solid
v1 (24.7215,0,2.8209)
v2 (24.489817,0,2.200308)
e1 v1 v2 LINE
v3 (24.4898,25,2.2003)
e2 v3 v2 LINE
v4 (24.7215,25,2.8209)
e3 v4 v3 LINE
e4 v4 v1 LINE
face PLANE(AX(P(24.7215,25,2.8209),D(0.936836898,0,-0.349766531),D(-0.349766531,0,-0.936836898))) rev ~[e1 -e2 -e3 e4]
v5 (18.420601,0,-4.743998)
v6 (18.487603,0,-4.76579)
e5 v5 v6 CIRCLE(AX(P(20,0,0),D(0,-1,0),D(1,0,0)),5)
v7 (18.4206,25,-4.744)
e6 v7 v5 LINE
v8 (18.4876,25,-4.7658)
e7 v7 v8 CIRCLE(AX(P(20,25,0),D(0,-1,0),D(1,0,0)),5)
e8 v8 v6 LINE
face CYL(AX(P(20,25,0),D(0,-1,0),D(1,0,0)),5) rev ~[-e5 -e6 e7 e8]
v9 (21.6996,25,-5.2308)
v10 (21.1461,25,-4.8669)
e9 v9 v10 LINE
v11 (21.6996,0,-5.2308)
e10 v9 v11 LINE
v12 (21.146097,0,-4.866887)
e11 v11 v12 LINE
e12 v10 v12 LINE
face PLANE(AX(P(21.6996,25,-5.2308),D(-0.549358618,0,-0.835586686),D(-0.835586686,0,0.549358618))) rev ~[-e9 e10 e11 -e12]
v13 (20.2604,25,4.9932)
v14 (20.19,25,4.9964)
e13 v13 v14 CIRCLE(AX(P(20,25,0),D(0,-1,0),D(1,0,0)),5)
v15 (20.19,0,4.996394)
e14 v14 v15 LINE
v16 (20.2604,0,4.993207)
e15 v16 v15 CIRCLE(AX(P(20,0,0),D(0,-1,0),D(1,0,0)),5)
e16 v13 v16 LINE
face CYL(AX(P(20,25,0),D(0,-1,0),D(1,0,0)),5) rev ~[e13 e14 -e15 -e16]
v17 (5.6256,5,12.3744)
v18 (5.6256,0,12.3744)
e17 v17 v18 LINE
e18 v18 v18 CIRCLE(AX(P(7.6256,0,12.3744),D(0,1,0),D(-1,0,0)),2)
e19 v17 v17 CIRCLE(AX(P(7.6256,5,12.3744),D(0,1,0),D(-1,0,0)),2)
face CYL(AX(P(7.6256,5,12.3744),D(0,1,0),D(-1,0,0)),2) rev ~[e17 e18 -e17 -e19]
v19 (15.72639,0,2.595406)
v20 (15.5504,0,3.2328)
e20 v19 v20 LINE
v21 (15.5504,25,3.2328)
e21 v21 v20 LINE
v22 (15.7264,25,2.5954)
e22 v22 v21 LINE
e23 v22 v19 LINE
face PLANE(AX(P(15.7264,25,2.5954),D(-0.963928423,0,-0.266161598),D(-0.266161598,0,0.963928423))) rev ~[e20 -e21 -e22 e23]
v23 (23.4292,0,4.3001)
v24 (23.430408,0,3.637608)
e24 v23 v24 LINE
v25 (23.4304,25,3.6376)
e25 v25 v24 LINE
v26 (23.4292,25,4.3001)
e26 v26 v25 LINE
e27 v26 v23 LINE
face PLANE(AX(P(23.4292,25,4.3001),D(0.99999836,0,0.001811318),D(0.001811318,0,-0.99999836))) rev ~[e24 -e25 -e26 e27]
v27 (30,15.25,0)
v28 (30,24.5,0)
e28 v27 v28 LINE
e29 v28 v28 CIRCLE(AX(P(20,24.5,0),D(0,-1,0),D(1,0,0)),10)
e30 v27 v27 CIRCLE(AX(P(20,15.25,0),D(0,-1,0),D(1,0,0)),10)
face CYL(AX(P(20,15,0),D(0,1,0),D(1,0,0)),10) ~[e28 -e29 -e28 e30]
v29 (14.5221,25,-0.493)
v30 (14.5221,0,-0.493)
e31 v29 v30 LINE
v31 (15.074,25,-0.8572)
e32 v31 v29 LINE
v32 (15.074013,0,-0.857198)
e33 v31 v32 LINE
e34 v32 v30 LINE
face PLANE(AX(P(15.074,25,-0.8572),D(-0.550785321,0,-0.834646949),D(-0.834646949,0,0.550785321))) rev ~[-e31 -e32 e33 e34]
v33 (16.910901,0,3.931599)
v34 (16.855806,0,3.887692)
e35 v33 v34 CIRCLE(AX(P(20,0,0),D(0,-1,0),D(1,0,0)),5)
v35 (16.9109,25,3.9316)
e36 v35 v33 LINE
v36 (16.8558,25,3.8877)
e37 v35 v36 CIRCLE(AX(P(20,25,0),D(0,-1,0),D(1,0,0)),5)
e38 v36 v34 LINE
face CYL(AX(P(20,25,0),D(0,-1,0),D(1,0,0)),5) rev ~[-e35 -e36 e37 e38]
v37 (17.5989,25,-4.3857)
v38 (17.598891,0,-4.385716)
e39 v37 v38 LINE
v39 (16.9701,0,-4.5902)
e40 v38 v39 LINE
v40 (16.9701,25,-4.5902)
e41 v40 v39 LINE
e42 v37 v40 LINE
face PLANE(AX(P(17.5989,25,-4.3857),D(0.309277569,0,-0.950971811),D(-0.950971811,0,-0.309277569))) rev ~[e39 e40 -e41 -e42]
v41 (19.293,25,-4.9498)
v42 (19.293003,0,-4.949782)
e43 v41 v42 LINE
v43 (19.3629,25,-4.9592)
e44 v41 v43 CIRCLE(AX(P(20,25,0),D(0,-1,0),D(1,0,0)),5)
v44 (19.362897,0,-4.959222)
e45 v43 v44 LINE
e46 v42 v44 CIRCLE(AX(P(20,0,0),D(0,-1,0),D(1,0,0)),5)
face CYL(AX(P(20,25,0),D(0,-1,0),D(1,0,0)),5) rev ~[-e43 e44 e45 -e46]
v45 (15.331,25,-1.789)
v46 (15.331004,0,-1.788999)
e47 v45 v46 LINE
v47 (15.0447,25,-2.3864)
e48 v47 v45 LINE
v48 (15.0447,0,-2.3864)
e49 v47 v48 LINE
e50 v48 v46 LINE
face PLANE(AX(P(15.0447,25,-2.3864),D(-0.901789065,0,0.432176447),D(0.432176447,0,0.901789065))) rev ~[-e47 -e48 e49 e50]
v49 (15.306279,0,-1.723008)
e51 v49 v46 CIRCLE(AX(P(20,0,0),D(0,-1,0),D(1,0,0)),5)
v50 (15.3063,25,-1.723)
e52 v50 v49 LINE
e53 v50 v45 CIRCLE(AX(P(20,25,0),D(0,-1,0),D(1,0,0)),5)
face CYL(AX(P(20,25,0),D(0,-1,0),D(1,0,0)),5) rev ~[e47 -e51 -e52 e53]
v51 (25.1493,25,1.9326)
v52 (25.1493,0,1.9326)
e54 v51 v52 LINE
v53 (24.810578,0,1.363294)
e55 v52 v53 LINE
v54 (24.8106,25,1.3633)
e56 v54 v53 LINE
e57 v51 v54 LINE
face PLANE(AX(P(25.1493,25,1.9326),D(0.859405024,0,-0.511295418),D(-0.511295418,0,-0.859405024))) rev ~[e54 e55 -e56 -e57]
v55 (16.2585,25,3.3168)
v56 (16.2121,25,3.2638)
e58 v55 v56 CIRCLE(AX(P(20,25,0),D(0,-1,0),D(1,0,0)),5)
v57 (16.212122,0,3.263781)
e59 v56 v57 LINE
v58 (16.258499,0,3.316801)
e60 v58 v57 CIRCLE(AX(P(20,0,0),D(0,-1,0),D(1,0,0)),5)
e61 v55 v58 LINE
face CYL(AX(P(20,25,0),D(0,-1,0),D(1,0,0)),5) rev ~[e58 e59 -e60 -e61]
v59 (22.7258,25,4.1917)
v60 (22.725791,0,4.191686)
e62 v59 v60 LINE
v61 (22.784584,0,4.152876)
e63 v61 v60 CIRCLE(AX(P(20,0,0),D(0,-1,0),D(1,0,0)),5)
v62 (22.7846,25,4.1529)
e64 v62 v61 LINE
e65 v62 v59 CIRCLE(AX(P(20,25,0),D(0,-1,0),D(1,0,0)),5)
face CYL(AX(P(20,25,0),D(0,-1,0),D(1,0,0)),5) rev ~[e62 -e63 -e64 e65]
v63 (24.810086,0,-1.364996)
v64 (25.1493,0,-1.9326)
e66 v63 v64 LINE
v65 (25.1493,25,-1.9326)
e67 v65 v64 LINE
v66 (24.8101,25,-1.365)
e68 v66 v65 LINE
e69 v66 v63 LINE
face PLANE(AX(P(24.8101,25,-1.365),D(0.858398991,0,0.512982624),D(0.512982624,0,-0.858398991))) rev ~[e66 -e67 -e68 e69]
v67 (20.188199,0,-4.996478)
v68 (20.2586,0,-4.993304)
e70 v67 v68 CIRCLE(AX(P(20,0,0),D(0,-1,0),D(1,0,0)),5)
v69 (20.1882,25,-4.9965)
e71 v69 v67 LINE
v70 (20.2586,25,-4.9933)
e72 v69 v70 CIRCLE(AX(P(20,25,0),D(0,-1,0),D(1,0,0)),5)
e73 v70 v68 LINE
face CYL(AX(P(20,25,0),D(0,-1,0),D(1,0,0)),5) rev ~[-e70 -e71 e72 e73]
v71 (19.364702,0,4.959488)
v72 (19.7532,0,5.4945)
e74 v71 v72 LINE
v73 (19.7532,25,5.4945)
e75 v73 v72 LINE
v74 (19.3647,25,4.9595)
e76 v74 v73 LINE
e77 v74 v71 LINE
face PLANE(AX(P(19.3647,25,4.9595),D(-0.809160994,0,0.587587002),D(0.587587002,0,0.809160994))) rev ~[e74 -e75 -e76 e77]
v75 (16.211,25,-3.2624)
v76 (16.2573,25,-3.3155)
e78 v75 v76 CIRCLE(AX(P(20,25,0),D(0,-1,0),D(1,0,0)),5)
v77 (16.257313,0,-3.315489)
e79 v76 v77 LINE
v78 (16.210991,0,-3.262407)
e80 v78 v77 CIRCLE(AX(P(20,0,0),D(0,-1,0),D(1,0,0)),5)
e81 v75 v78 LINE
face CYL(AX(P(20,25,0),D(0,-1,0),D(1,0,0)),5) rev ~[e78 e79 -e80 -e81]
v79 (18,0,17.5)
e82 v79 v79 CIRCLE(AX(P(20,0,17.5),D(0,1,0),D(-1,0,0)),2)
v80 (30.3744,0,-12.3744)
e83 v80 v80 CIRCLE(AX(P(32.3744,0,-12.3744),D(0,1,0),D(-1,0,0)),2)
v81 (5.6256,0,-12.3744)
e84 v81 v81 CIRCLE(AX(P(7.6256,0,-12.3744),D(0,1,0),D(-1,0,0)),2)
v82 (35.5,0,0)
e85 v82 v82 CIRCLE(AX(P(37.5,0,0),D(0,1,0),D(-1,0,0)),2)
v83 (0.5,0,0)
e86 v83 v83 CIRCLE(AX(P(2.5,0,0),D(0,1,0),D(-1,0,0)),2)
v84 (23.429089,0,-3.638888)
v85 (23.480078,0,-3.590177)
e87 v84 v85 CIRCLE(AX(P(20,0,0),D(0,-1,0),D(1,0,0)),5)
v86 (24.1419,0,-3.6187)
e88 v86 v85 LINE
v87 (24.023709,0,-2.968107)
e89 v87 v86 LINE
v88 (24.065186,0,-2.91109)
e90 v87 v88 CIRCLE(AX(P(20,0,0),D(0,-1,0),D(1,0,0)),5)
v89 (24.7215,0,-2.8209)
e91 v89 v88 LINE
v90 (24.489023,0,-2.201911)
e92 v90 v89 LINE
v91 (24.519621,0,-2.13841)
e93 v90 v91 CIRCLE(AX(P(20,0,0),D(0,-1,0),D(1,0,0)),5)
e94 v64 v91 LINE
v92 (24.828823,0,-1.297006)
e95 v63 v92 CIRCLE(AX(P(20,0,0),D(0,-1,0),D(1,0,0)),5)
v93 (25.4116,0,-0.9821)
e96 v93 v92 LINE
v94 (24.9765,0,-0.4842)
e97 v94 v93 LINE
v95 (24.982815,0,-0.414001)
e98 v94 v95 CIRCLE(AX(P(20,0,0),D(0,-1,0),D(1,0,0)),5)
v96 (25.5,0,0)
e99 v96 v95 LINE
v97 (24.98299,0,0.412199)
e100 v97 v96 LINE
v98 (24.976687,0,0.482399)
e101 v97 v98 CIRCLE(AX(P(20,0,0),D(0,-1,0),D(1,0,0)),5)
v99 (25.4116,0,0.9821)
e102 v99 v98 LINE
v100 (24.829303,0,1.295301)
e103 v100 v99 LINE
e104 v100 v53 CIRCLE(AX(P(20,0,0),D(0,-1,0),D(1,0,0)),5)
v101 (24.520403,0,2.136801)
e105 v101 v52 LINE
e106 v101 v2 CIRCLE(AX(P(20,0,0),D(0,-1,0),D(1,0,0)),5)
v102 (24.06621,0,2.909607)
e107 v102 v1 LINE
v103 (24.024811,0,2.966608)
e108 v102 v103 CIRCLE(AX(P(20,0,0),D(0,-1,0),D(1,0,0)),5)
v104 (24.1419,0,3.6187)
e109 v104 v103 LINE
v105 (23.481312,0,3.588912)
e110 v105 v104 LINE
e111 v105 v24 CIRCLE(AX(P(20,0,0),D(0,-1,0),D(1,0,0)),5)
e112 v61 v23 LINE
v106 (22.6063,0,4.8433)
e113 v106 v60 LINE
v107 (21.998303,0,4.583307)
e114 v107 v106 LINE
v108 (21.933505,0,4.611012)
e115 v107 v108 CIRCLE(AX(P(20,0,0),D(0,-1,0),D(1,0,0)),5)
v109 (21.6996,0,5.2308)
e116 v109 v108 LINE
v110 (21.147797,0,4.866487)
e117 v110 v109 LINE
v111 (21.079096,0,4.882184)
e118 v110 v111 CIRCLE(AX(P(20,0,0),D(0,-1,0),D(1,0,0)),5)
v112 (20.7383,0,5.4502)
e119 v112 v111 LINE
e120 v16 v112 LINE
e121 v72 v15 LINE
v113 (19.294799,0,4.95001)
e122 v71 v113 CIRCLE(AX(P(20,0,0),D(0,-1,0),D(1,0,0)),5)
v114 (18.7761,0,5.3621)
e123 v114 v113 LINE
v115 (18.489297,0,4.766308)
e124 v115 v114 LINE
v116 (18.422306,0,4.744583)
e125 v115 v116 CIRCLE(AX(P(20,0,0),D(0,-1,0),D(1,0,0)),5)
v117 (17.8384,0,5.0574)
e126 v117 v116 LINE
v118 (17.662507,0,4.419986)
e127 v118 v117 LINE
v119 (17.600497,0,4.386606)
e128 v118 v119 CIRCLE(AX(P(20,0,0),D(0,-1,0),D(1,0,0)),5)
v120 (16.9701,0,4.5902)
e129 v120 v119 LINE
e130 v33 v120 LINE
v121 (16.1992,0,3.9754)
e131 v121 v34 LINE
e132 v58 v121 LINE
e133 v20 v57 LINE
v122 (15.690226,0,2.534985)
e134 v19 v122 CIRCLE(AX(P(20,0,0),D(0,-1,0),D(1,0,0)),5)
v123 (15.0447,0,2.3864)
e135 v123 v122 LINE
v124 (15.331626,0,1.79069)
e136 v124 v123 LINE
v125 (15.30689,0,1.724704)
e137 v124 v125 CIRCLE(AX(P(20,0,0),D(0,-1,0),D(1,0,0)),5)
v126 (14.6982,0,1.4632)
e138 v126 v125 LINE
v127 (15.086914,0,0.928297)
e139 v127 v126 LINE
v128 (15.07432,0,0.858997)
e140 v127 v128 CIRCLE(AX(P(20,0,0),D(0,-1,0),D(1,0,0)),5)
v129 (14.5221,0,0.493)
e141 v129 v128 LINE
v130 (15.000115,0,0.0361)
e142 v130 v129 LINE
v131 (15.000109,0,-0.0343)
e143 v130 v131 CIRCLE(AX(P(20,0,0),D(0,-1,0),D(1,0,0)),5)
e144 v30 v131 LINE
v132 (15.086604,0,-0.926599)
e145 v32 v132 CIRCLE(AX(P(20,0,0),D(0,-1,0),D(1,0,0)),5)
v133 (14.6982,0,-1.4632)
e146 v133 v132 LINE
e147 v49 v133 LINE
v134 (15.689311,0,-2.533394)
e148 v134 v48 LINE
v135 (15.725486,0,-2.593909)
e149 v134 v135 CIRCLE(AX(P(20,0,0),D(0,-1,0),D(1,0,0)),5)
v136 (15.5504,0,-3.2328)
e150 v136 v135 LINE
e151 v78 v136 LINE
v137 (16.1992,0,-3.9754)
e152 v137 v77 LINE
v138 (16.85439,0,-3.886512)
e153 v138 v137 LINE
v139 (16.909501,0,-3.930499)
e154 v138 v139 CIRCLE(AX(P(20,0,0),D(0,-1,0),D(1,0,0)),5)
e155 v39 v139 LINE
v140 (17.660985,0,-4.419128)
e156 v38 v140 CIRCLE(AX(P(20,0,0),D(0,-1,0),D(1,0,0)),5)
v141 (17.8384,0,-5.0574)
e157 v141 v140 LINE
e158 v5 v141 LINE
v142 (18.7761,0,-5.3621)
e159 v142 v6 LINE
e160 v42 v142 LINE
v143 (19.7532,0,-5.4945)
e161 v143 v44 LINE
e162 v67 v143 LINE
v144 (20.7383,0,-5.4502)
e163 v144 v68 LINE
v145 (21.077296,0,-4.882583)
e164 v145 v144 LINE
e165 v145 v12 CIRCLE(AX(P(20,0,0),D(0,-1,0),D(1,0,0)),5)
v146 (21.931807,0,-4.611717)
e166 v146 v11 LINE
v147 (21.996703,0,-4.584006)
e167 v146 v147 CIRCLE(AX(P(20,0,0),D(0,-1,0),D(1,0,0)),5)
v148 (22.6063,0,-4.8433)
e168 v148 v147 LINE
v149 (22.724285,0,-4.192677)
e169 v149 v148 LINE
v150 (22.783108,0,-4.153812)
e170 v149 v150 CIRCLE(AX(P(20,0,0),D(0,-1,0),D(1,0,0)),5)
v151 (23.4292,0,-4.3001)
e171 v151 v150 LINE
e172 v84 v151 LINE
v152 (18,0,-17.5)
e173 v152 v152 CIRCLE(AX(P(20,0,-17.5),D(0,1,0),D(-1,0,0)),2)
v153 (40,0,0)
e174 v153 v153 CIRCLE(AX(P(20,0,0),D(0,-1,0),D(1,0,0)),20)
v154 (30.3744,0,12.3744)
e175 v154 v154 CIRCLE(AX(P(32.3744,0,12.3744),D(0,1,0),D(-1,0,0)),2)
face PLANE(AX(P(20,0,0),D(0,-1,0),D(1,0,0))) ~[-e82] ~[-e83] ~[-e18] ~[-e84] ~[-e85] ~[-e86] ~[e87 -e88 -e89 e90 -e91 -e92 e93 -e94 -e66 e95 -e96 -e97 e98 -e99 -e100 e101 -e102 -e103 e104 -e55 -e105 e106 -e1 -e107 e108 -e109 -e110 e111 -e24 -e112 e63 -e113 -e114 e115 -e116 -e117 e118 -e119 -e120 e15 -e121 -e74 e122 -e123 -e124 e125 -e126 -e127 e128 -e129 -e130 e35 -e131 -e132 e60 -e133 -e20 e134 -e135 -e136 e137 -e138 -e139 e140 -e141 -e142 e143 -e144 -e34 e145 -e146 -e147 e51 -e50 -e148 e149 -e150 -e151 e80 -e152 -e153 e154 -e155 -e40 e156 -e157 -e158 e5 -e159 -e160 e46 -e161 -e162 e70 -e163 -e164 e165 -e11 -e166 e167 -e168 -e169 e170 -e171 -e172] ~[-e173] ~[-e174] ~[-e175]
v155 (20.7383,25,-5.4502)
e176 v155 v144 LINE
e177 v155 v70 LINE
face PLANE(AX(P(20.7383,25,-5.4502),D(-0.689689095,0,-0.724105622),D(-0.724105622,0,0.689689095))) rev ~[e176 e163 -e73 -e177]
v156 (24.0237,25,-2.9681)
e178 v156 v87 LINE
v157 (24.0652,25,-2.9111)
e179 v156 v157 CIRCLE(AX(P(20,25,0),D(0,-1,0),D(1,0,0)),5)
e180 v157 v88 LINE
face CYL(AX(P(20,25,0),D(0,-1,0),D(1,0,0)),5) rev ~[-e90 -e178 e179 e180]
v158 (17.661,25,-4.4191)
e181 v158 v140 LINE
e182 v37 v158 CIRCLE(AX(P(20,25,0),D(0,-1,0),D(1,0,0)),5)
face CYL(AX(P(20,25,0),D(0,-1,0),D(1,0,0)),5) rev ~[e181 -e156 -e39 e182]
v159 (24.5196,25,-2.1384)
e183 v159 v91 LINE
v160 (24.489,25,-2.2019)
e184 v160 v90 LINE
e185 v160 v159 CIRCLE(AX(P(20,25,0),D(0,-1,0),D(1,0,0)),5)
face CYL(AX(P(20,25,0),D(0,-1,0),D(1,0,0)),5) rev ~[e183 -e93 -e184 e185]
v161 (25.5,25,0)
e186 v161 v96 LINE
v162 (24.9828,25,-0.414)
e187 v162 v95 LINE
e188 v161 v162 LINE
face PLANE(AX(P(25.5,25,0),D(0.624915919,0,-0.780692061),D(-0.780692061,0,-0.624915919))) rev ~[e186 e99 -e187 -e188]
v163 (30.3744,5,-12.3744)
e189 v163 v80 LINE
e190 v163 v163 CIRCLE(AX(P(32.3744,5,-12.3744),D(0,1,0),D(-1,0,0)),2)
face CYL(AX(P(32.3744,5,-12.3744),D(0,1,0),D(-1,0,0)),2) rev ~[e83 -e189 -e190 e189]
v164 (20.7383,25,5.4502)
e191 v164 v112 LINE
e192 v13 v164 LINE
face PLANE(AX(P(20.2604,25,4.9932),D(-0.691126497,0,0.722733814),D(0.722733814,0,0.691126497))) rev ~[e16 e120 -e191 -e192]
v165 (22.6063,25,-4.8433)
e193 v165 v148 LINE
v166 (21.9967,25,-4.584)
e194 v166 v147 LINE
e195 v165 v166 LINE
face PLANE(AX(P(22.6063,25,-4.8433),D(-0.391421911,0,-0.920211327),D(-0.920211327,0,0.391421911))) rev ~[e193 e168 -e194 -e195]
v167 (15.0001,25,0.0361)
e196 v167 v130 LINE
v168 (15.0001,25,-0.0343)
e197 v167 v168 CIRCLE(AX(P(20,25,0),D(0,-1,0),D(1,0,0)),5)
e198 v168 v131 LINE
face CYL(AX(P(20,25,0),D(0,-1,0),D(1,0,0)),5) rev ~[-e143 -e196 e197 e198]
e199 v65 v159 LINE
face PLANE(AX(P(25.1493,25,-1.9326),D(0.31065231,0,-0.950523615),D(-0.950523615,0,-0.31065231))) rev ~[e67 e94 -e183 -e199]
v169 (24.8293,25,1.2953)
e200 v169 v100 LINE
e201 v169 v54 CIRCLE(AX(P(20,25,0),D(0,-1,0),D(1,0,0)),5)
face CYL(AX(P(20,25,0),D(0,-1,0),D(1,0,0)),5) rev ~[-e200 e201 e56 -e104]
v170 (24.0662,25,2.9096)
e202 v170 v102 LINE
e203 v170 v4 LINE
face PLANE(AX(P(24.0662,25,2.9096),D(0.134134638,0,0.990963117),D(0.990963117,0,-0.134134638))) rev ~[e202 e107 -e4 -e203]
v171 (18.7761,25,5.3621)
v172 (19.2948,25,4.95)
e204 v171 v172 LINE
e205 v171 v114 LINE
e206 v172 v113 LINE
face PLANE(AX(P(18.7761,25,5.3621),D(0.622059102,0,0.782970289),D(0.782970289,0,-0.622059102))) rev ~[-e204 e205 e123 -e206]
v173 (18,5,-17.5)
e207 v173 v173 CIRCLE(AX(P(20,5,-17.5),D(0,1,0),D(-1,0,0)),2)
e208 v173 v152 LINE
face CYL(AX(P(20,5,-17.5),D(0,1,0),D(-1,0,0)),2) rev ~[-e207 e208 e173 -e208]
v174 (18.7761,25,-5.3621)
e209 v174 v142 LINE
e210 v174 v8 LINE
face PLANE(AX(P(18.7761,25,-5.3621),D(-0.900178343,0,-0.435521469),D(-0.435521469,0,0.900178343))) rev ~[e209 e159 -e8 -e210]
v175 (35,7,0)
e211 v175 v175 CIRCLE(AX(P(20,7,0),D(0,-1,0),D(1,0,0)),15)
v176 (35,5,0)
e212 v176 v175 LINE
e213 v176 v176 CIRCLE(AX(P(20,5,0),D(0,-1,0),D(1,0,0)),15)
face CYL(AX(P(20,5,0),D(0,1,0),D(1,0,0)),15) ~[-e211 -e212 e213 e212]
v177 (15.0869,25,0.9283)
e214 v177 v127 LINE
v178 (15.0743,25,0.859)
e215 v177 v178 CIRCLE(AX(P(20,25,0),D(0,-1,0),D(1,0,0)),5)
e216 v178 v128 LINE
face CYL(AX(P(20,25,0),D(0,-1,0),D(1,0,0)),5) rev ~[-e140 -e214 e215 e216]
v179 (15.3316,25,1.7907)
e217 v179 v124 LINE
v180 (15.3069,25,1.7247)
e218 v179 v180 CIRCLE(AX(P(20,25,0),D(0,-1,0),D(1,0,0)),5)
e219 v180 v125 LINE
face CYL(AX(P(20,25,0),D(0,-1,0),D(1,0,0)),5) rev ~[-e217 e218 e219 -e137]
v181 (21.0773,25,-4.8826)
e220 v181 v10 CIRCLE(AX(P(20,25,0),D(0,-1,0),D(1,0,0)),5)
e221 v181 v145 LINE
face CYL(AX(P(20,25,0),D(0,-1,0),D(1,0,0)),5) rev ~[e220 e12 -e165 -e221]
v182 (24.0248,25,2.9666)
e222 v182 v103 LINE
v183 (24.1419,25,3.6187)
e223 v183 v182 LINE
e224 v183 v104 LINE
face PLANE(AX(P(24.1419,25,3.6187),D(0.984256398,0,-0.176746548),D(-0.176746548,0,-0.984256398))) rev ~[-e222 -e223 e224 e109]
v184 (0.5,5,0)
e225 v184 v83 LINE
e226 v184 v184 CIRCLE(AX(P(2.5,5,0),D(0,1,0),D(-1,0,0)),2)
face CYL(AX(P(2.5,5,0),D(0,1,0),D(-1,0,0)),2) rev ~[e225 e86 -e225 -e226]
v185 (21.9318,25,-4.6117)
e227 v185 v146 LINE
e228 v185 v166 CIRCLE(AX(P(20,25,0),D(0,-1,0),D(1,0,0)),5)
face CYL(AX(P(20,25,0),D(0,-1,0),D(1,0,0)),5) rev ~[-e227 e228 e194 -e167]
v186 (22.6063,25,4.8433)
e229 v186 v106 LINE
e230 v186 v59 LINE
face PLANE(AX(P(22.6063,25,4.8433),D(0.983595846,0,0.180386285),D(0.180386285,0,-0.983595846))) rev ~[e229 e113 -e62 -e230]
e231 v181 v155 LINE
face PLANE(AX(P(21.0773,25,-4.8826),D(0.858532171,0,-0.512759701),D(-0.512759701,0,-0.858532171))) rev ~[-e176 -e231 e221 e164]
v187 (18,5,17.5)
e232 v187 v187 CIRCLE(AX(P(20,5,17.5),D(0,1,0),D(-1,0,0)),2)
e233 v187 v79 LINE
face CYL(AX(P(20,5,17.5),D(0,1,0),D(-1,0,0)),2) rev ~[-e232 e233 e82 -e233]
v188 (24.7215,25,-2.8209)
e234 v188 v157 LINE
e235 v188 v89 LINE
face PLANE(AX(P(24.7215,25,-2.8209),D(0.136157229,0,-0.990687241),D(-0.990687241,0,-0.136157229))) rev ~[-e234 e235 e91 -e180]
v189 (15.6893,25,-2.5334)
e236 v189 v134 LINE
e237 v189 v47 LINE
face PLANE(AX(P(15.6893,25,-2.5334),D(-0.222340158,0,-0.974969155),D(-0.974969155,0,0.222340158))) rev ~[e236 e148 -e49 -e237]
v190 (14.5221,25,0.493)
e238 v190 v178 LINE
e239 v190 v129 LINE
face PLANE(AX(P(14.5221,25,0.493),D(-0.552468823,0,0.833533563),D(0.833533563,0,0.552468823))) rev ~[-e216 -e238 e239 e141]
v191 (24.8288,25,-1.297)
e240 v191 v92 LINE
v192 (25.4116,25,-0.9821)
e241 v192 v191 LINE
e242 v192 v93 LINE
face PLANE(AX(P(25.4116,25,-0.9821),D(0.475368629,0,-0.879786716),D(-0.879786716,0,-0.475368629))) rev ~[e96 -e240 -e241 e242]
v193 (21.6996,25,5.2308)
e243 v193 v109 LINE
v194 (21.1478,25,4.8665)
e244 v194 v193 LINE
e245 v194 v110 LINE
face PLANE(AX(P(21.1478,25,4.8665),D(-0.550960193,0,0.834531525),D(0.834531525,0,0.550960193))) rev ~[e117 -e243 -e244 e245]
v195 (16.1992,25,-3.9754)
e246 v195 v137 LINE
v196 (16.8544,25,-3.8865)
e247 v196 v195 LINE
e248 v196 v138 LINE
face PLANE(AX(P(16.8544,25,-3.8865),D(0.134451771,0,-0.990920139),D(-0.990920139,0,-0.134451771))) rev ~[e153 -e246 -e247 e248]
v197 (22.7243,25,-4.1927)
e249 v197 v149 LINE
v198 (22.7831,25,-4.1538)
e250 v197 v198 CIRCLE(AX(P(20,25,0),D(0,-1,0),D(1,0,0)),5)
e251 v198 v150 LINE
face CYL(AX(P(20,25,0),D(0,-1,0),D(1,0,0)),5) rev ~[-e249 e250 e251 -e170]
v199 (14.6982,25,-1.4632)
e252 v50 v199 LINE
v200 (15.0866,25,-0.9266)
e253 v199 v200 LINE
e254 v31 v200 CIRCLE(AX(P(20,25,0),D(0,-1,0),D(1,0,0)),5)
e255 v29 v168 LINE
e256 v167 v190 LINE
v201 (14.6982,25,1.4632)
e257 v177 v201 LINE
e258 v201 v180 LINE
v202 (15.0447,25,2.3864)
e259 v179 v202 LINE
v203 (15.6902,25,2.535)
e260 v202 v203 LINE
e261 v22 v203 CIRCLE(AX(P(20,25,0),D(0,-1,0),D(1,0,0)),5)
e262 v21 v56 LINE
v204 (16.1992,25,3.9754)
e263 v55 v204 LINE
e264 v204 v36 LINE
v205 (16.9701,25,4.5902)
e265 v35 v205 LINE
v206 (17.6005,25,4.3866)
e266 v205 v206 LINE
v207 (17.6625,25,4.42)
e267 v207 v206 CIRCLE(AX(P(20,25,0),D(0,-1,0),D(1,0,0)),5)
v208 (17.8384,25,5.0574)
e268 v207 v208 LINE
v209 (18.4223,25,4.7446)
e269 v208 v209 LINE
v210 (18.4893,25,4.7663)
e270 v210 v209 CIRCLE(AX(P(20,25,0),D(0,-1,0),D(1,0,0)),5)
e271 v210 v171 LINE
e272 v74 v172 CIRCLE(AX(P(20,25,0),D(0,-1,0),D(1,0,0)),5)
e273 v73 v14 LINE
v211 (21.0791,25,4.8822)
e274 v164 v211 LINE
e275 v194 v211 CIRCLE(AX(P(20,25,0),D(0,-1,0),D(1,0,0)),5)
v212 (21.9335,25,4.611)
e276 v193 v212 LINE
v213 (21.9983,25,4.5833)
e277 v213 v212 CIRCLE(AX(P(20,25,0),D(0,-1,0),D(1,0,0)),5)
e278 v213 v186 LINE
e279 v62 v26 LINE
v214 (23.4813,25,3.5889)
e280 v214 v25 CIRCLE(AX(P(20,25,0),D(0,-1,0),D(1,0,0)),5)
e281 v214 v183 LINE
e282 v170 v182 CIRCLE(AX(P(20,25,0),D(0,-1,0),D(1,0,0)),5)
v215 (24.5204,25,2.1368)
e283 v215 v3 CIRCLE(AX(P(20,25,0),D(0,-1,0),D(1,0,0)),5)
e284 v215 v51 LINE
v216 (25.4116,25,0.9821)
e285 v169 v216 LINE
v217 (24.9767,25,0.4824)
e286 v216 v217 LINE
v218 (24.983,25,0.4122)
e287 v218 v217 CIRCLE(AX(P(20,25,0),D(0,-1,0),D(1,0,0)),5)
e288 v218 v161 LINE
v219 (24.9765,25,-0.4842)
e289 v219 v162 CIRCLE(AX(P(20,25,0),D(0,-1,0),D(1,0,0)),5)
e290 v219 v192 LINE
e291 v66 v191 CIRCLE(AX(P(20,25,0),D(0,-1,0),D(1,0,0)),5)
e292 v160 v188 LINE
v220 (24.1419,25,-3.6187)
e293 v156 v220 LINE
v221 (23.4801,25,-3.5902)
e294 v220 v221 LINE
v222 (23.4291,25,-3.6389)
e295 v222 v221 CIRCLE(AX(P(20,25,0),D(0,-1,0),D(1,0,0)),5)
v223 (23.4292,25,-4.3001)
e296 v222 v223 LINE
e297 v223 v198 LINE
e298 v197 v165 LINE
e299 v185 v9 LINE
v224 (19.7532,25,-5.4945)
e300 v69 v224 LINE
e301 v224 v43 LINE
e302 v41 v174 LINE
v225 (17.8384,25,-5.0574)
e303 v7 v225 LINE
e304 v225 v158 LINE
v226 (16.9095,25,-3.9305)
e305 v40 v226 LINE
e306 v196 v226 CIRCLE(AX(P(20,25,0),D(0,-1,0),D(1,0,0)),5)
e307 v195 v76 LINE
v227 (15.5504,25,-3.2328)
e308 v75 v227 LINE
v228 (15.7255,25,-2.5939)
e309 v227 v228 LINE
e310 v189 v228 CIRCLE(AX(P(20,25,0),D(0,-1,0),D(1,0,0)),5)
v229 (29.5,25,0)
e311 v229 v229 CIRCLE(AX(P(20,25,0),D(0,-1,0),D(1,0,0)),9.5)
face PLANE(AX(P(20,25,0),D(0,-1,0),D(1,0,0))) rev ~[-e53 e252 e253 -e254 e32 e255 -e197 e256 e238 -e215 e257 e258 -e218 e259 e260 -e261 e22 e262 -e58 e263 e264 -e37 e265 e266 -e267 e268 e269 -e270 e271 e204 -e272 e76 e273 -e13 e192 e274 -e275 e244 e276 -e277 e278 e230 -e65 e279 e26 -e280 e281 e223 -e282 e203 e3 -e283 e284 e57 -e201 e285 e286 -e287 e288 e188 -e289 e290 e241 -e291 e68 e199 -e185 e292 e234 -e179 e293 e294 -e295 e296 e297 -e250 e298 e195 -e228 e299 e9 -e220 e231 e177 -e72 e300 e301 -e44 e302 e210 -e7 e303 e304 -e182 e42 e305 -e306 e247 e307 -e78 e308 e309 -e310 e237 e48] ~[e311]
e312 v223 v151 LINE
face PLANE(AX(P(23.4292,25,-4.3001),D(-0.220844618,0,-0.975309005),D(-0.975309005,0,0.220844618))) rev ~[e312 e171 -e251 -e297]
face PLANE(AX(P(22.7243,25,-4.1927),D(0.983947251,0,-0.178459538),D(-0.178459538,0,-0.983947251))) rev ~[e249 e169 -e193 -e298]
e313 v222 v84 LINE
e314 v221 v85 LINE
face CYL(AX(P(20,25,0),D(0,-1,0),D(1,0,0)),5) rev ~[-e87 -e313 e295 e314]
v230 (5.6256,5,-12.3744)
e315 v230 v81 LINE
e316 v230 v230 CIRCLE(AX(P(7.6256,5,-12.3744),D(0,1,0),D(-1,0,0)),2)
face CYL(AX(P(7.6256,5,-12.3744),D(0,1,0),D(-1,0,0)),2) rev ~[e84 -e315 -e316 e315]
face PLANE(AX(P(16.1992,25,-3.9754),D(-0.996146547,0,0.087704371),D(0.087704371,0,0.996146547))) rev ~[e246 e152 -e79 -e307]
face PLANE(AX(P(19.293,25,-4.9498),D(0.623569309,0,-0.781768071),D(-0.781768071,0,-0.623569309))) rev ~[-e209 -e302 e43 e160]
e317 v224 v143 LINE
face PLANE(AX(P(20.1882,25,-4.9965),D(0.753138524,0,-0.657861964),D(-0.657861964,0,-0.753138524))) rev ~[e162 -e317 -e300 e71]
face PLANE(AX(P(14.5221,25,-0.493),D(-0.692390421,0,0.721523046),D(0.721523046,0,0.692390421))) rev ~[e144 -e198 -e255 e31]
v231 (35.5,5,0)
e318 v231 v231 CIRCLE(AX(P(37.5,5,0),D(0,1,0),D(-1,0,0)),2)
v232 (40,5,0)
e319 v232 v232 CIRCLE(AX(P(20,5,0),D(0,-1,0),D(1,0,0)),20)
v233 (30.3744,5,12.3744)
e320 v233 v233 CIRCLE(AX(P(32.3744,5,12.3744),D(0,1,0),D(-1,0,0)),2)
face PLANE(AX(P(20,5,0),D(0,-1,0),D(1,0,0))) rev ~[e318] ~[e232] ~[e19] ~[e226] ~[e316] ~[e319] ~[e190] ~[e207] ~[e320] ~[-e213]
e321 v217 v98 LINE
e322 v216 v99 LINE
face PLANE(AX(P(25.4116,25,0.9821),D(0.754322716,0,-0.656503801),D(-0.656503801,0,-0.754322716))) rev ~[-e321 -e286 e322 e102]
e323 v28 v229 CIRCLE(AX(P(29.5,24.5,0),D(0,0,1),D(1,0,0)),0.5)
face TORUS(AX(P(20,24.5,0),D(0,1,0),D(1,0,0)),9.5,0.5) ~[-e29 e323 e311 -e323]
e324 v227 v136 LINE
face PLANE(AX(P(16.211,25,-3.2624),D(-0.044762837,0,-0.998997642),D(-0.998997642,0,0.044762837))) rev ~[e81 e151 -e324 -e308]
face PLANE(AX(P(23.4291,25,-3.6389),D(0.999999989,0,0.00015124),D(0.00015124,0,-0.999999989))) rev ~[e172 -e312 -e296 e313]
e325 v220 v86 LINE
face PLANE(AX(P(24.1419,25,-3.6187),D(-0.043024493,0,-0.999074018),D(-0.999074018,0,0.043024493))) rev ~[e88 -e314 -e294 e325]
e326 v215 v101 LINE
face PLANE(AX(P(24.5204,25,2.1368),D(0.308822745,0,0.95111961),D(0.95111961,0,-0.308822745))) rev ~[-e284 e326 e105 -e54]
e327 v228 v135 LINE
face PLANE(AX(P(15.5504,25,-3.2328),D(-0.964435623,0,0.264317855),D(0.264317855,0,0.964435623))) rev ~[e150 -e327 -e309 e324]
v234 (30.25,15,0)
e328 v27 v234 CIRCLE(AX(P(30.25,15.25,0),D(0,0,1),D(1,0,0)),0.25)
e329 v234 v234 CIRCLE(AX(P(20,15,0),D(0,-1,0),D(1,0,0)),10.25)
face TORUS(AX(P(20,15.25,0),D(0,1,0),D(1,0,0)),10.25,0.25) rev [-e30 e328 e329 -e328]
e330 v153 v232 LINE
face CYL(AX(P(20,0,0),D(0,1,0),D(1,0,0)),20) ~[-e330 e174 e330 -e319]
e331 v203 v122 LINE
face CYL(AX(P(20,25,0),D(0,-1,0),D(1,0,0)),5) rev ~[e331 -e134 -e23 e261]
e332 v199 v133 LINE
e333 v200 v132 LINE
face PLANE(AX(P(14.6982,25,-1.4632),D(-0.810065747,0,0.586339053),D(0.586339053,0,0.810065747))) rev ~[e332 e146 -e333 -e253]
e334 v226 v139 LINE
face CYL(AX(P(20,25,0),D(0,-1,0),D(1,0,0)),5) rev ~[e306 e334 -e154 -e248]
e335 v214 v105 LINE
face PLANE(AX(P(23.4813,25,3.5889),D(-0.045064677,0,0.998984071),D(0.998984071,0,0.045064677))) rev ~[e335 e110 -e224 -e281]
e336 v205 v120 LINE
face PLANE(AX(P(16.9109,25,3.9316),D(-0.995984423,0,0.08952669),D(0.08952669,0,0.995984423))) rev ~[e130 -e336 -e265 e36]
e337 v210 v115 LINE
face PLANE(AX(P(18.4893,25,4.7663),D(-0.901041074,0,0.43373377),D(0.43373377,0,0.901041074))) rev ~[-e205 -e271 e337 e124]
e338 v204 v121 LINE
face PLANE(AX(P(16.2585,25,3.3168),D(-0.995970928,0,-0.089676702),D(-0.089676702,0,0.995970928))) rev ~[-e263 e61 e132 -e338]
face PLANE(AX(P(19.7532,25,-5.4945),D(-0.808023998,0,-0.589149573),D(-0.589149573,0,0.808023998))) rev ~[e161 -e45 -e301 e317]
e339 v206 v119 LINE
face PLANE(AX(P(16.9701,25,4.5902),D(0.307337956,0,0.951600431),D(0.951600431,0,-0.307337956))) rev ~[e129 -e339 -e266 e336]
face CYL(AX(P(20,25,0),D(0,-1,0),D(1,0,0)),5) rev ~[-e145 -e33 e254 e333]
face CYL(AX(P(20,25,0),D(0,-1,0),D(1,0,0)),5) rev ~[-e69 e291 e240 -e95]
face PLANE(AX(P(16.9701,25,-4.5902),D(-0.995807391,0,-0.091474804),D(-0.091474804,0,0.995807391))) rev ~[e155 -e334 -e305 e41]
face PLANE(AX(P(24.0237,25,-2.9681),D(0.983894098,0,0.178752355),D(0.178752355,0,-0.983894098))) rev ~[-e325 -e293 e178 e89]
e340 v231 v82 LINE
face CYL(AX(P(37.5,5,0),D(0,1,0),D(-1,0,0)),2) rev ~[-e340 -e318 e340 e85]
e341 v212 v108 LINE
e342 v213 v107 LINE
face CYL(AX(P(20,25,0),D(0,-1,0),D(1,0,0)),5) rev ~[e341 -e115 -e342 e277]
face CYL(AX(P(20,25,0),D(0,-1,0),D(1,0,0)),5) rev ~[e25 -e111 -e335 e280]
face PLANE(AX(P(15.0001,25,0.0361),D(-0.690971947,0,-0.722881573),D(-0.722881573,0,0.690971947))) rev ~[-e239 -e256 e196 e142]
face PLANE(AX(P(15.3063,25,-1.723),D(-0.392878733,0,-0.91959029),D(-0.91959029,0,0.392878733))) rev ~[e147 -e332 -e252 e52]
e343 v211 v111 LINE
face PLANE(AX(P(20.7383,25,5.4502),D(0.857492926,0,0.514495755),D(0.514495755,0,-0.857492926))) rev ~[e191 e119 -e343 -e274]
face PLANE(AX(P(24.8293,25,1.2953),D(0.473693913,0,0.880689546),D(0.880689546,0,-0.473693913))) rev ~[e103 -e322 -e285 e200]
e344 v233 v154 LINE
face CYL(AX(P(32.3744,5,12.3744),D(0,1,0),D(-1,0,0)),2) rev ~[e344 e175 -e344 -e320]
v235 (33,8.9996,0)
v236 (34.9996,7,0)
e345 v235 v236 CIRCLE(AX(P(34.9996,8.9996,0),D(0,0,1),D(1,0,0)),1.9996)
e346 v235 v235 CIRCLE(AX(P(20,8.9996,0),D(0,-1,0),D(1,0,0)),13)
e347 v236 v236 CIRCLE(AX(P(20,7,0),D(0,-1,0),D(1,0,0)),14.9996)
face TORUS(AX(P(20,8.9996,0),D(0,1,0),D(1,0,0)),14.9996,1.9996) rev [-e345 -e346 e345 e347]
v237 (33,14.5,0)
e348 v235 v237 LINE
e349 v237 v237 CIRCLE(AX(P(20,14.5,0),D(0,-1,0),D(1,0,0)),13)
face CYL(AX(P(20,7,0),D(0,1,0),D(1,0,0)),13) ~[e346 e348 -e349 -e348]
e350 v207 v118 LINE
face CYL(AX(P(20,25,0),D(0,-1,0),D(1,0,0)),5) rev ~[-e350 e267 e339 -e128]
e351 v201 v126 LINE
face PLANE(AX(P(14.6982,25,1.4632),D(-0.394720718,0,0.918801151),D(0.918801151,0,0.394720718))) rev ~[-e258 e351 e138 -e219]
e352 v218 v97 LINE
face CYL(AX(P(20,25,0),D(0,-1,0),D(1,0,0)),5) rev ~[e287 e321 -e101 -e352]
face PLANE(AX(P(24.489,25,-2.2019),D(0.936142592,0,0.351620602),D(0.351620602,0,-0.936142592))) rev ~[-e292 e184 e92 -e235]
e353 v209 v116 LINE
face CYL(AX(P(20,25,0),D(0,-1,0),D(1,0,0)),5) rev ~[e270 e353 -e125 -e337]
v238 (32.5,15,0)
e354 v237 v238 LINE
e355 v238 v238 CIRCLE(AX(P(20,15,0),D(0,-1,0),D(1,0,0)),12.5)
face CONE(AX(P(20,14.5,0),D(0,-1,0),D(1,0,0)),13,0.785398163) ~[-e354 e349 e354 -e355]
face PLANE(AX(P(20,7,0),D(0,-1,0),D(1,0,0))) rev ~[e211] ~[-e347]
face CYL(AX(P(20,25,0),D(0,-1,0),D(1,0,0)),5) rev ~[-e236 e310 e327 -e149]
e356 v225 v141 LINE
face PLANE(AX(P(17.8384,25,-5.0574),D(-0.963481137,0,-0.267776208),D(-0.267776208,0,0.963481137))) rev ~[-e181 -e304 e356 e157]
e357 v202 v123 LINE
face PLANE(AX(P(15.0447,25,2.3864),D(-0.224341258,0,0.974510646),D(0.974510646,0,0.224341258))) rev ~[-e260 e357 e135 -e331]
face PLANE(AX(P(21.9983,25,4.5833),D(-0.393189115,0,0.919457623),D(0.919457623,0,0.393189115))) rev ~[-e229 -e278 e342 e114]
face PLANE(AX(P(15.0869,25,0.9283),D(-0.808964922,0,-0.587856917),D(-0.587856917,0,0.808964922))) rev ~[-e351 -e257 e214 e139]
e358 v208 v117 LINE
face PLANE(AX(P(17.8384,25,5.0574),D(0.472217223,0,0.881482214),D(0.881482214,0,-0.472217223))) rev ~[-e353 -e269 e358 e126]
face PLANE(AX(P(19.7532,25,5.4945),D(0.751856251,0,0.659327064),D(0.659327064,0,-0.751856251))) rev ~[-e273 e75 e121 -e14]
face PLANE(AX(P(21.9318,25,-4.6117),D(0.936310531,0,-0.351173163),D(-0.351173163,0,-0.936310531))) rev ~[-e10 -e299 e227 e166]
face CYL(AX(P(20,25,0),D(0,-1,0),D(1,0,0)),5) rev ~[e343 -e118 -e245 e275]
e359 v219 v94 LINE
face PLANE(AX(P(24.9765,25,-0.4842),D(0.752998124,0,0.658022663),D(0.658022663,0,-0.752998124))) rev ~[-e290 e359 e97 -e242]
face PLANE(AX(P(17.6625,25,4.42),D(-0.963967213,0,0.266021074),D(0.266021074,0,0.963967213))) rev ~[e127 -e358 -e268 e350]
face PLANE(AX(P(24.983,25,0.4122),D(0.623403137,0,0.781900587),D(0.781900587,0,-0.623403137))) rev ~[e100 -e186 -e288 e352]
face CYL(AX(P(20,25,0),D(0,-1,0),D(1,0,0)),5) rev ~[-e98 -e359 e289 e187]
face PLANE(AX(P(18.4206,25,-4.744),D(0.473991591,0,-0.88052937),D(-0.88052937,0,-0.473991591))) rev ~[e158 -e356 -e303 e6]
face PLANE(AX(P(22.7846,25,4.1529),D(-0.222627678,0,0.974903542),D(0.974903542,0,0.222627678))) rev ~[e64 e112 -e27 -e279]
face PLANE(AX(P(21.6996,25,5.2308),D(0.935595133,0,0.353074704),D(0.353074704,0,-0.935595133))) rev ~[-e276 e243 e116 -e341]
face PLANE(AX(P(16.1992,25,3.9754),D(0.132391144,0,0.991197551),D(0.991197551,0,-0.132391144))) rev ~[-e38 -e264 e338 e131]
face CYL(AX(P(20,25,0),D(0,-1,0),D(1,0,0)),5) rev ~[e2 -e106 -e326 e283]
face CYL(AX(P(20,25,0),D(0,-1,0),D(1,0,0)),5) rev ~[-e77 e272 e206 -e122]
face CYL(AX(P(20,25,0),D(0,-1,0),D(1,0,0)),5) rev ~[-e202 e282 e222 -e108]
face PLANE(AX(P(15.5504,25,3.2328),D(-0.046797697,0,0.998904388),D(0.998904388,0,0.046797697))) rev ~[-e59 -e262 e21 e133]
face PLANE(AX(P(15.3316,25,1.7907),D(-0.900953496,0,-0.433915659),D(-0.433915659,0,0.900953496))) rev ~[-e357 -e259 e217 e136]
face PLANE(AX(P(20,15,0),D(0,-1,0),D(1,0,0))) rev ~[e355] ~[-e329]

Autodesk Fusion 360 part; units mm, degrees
sketch "Sketch1" plane through (0, 0, 0) normal (0, 0, 1) x (1, 0, 0)
  line L0 (40, 0) -> (40, 5)
  line L1 (40, 5) -> (35, 5)
  line L2 (35, 5) -> (35, 7)
  line L3 (35, 7) -> (33, 7)
  line L4 (33, 7) -> (33, 15)
  line L5 (33, 15) -> (30, 15)
  line L6 (30, 15) -> (30, 25)
  line L7 (30, 25) -> (25, 25)
  line L8 (20, 27) -> (20, -3)
  line L9 (25, 25) -> (25, 0)
  line L10 (25, 0) -> (40, 0)
  dimension "d3" = 5
  dimension "d6" = 5
  dimension "d7" = 2
  dimension "d8" = 2
  dimension "d9" = 8
  dimension "d10" = 10
revolve "Revolve1" add sketch "Sketch1" angle 360 about axis through (20, 27, 0) along (0, -1, 0)
fillet "Fillet1" radius 2 1 edges at (7.8797, 7, -4.701)
chamfer "Chamfer1" distance 0.5 angle 45 1 edges at (7.8797, 15, -4.701)
fillet "Fillet2" radius 0.5 1 edges at (10.6767, 25, -3.6162)
fillet "Fillet3" radius 0.25 1 edges at (10.6767, 15, -3.6162)
sketch "Sketch2" plane through (0, 5, 0) normal (0, 1, 0) x (-1, 0, 0)
  circle A0 centre (-20, 0) radius 15
  circle A1 centre (-20, 0) radius 20
  circle A2 centre (-2.5, 0) radius 2
  circle A3 centre (-7.6256, 12.3744) radius 2
  circle A4 centre (-20, 17.5) radius 2
  circle A5 centre (-32.3744, 12.3744) radius 2
  circle A6 centre (-37.5, 0) radius 2
  circle A7 centre (-32.3744, -12.3744) radius 2
  circle A8 centre (-20, -17.5) radius 2
  circle A9 centre (-7.6256, -12.3744) radius 2
  dimension "d16" = 4
  dimension "d18" = 360
extrude "Extrude1" cut sketch "Sketch2" against normal blind 7 contours A2 | A3 | A4 | A5 | A6 | A7 | A8 | A9
sketch "Sketch3" plane through (0, 25, 0) normal (0, 1, 0) x (-1, 0, 0)
  circle A0 centre (-20, 0) radius 5
  circle A1 centre (-20, 0) radius 9.5
  line L0 (-24.983, 0.4122) -> (-25.5, 0)
  line L1 (-25.5, 0) -> (-24.9828, -0.414)
  line L2 (-25.4116, -0.9821) -> (-24.8288, -1.297)
  line L3 (-24.9765, -0.4842) -> (-25.4116, -0.9821)
  line L4 (-25.1493, -1.9326) -> (-24.5196, -2.1384)
  line L5 (-24.8101, -1.365) -> (-25.1493, -1.9326)
  line L6 (-24.7215, -2.8209) -> (-24.0652, -2.9111)
  line L7 (-24.489, -2.2019) -> (-24.7215, -2.8209)
  line L8 (-24.1419, -3.6187) -> (-23.4801, -3.5902)
  line L9 (-24.0237, -2.9681) -> (-24.1419, -3.6187)
  line L10 (-23.4292, -4.3001) -> (-22.7831, -4.1538)
  line L11 (-23.4291, -3.6389) -> (-23.4292, -4.3001)
  line L12 (-22.6063, -4.8433) -> (-21.9967, -4.584)
  line L13 (-22.7243, -4.1927) -> (-22.6063, -4.8433)
  line L14 (-21.6996, -5.2308) -> (-21.1461, -4.8669)
  line L15 (-21.9318, -4.6117) -> (-21.6996, -5.2308)
  line L16 (-20.7383, -5.4502) -> (-20.2586, -4.9933)
  line L17 (-21.0773, -4.8826) -> (-20.7383, -5.4502)
  line L18 (-19.7532, -5.4945) -> (-19.3629, -4.9592)
  line L19 (-20.1882, -4.9965) -> (-19.7532, -5.4945)
  line L20 (-18.7761, -5.3621) -> (-18.4876, -4.7658)
  line L21 (-19.293, -4.9498) -> (-18.7761, -5.3621)
  line L22 (-17.8384, -5.0574) -> (-17.661, -4.4191)
  line L23 (-18.4206, -4.744) -> (-17.8384, -5.0574)
  line L24 (-16.9701, -4.5902) -> (-16.9095, -3.9305)
  line L25 (-17.5989, -4.3857) -> (-16.9701, -4.5902)
  line L26 (-16.1992, -3.9754) -> (-16.2573, -3.3155)
  line L27 (-16.8544, -3.8865) -> (-16.1992, -3.9754)
  line L28 (-15.5504, -3.2328) -> (-15.7255, -2.5939)
  line L29 (-16.211, -3.2624) -> (-15.5504, -3.2328)
  line L30 (-15.0447, -2.3864) -> (-15.331, -1.789)
  line L31 (-15.6893, -2.5334) -> (-15.0447, -2.3864)
  line L32 (-14.6982, -1.4632) -> (-15.0866, -0.9266)
  line L33 (-15.3063, -1.723) -> (-14.6982, -1.4632)
  line L34 (-14.5221, -0.493) -> (-15.0001, -0.0343)
  line L35 (-15.074, -0.8572) -> (-14.5221, -0.493)
  line L36 (-14.5221, 0.493) -> (-15.0743, 0.859)
  line L37 (-15.0001, 0.0361) -> (-14.5221, 0.493)
  line L38 (-14.6982, 1.4632) -> (-15.3069, 1.7247)
  line L39 (-15.0869, 0.9283) -> (-14.6982, 1.4632)
  line L40 (-15.0447, 2.3864) -> (-15.6902, 2.535)
  line L41 (-15.3316, 1.7907) -> (-15.0447, 2.3864)
  line L42 (-15.5504, 3.2328) -> (-16.2121, 3.2638)
  line L43 (-15.7264, 2.5954) -> (-15.5504, 3.2328)
  line L44 (-16.1992, 3.9754) -> (-16.8558, 3.8877)
  line L45 (-16.2585, 3.3168) -> (-16.1992, 3.9754)
  line L46 (-16.9701, 4.5902) -> (-17.6005, 4.3866)
  line L47 (-16.9109, 3.9316) -> (-16.9701, 4.5902)
  line L48 (-17.8384, 5.0574) -> (-18.4223, 4.7446)
  line L49 (-17.6625, 4.42) -> (-17.8384, 5.0574)
  line L50 (-18.7761, 5.3621) -> (-19.2948, 4.95)
  line L51 (-18.4893, 4.7663) -> (-18.7761, 5.3621)
  line L52 (-19.7532, 5.4945) -> (-20.19, 4.9964)
  line L53 (-19.3647, 4.9595) -> (-19.7532, 5.4945)
  line L54 (-20.7383, 5.4502) -> (-21.0791, 4.8822)
  line L55 (-20.2604, 4.9932) -> (-20.7383, 5.4502)
  line L56 (-21.6996, 5.2308) -> (-21.9335, 4.611)
  line L57 (-21.1478, 4.8665) -> (-21.6996, 5.2308)
  line L58 (-22.6063, 4.8433) -> (-22.7258, 4.1917)
  line L59 (-21.9983, 4.5833) -> (-22.6063, 4.8433)
  line L60 (-23.4292, 4.3001) -> (-23.4304, 3.6376)
  line L61 (-22.7846, 4.1529) -> (-23.4292, 4.3001)
  line L62 (-24.1419, 3.6187) -> (-24.0248, 2.9666)
  line L63 (-23.4813, 3.5889) -> (-24.1419, 3.6187)
  line L64 (-24.7215, 2.8209) -> (-24.4898, 2.2003)
  line L65 (-24.0662, 2.9096) -> (-24.7215, 2.8209)
  line L66 (-25.1493, 1.9326) -> (-24.8106, 1.3633)
  line L67 (-24.5204, 2.1368) -> (-25.1493, 1.9326)
  line L68 (-25.4116, 0.9821) -> (-24.9767, 0.4824)
  line L69 (-24.8293, 1.2953) -> (-25.4116, 0.9821)
  dimension "d22" = 360
extrude "Extrude2" cut sketch "Sketch3" against normal blind 35 contours A0 L36 L37 | A0 L34 L35 | A0 L38 L39 | A0 L32 L33 | A0 L40 L41 | A0 L30 L31 | A0 L42 L43 | A0 L28 L29 | A0 L44 L45 | A0 L26 L27 | A0 L46 L47 | A0 L24 L25 | A0 L48 L49 | A0 L22 L23 | A0 L50 L51 | A0 L20 L21 | A0 L52 L53 | A0 L18 L19 | A0 L54 L55 | A0 L16 L17 | A0 L56 L57 | A0 L14 L15 | A0 L58 L59 | A0 L12 L13 | A0 L60 L61 | A0 L10 L11 | A0 L62 L63 | A0 L8 L9 | A0 L64 L65 | A0 L6 L7 | A0 L66 L67 | A0 L4 L5 | A0 L68 L69 | A0 L2 L3 | A0 L0 L1
